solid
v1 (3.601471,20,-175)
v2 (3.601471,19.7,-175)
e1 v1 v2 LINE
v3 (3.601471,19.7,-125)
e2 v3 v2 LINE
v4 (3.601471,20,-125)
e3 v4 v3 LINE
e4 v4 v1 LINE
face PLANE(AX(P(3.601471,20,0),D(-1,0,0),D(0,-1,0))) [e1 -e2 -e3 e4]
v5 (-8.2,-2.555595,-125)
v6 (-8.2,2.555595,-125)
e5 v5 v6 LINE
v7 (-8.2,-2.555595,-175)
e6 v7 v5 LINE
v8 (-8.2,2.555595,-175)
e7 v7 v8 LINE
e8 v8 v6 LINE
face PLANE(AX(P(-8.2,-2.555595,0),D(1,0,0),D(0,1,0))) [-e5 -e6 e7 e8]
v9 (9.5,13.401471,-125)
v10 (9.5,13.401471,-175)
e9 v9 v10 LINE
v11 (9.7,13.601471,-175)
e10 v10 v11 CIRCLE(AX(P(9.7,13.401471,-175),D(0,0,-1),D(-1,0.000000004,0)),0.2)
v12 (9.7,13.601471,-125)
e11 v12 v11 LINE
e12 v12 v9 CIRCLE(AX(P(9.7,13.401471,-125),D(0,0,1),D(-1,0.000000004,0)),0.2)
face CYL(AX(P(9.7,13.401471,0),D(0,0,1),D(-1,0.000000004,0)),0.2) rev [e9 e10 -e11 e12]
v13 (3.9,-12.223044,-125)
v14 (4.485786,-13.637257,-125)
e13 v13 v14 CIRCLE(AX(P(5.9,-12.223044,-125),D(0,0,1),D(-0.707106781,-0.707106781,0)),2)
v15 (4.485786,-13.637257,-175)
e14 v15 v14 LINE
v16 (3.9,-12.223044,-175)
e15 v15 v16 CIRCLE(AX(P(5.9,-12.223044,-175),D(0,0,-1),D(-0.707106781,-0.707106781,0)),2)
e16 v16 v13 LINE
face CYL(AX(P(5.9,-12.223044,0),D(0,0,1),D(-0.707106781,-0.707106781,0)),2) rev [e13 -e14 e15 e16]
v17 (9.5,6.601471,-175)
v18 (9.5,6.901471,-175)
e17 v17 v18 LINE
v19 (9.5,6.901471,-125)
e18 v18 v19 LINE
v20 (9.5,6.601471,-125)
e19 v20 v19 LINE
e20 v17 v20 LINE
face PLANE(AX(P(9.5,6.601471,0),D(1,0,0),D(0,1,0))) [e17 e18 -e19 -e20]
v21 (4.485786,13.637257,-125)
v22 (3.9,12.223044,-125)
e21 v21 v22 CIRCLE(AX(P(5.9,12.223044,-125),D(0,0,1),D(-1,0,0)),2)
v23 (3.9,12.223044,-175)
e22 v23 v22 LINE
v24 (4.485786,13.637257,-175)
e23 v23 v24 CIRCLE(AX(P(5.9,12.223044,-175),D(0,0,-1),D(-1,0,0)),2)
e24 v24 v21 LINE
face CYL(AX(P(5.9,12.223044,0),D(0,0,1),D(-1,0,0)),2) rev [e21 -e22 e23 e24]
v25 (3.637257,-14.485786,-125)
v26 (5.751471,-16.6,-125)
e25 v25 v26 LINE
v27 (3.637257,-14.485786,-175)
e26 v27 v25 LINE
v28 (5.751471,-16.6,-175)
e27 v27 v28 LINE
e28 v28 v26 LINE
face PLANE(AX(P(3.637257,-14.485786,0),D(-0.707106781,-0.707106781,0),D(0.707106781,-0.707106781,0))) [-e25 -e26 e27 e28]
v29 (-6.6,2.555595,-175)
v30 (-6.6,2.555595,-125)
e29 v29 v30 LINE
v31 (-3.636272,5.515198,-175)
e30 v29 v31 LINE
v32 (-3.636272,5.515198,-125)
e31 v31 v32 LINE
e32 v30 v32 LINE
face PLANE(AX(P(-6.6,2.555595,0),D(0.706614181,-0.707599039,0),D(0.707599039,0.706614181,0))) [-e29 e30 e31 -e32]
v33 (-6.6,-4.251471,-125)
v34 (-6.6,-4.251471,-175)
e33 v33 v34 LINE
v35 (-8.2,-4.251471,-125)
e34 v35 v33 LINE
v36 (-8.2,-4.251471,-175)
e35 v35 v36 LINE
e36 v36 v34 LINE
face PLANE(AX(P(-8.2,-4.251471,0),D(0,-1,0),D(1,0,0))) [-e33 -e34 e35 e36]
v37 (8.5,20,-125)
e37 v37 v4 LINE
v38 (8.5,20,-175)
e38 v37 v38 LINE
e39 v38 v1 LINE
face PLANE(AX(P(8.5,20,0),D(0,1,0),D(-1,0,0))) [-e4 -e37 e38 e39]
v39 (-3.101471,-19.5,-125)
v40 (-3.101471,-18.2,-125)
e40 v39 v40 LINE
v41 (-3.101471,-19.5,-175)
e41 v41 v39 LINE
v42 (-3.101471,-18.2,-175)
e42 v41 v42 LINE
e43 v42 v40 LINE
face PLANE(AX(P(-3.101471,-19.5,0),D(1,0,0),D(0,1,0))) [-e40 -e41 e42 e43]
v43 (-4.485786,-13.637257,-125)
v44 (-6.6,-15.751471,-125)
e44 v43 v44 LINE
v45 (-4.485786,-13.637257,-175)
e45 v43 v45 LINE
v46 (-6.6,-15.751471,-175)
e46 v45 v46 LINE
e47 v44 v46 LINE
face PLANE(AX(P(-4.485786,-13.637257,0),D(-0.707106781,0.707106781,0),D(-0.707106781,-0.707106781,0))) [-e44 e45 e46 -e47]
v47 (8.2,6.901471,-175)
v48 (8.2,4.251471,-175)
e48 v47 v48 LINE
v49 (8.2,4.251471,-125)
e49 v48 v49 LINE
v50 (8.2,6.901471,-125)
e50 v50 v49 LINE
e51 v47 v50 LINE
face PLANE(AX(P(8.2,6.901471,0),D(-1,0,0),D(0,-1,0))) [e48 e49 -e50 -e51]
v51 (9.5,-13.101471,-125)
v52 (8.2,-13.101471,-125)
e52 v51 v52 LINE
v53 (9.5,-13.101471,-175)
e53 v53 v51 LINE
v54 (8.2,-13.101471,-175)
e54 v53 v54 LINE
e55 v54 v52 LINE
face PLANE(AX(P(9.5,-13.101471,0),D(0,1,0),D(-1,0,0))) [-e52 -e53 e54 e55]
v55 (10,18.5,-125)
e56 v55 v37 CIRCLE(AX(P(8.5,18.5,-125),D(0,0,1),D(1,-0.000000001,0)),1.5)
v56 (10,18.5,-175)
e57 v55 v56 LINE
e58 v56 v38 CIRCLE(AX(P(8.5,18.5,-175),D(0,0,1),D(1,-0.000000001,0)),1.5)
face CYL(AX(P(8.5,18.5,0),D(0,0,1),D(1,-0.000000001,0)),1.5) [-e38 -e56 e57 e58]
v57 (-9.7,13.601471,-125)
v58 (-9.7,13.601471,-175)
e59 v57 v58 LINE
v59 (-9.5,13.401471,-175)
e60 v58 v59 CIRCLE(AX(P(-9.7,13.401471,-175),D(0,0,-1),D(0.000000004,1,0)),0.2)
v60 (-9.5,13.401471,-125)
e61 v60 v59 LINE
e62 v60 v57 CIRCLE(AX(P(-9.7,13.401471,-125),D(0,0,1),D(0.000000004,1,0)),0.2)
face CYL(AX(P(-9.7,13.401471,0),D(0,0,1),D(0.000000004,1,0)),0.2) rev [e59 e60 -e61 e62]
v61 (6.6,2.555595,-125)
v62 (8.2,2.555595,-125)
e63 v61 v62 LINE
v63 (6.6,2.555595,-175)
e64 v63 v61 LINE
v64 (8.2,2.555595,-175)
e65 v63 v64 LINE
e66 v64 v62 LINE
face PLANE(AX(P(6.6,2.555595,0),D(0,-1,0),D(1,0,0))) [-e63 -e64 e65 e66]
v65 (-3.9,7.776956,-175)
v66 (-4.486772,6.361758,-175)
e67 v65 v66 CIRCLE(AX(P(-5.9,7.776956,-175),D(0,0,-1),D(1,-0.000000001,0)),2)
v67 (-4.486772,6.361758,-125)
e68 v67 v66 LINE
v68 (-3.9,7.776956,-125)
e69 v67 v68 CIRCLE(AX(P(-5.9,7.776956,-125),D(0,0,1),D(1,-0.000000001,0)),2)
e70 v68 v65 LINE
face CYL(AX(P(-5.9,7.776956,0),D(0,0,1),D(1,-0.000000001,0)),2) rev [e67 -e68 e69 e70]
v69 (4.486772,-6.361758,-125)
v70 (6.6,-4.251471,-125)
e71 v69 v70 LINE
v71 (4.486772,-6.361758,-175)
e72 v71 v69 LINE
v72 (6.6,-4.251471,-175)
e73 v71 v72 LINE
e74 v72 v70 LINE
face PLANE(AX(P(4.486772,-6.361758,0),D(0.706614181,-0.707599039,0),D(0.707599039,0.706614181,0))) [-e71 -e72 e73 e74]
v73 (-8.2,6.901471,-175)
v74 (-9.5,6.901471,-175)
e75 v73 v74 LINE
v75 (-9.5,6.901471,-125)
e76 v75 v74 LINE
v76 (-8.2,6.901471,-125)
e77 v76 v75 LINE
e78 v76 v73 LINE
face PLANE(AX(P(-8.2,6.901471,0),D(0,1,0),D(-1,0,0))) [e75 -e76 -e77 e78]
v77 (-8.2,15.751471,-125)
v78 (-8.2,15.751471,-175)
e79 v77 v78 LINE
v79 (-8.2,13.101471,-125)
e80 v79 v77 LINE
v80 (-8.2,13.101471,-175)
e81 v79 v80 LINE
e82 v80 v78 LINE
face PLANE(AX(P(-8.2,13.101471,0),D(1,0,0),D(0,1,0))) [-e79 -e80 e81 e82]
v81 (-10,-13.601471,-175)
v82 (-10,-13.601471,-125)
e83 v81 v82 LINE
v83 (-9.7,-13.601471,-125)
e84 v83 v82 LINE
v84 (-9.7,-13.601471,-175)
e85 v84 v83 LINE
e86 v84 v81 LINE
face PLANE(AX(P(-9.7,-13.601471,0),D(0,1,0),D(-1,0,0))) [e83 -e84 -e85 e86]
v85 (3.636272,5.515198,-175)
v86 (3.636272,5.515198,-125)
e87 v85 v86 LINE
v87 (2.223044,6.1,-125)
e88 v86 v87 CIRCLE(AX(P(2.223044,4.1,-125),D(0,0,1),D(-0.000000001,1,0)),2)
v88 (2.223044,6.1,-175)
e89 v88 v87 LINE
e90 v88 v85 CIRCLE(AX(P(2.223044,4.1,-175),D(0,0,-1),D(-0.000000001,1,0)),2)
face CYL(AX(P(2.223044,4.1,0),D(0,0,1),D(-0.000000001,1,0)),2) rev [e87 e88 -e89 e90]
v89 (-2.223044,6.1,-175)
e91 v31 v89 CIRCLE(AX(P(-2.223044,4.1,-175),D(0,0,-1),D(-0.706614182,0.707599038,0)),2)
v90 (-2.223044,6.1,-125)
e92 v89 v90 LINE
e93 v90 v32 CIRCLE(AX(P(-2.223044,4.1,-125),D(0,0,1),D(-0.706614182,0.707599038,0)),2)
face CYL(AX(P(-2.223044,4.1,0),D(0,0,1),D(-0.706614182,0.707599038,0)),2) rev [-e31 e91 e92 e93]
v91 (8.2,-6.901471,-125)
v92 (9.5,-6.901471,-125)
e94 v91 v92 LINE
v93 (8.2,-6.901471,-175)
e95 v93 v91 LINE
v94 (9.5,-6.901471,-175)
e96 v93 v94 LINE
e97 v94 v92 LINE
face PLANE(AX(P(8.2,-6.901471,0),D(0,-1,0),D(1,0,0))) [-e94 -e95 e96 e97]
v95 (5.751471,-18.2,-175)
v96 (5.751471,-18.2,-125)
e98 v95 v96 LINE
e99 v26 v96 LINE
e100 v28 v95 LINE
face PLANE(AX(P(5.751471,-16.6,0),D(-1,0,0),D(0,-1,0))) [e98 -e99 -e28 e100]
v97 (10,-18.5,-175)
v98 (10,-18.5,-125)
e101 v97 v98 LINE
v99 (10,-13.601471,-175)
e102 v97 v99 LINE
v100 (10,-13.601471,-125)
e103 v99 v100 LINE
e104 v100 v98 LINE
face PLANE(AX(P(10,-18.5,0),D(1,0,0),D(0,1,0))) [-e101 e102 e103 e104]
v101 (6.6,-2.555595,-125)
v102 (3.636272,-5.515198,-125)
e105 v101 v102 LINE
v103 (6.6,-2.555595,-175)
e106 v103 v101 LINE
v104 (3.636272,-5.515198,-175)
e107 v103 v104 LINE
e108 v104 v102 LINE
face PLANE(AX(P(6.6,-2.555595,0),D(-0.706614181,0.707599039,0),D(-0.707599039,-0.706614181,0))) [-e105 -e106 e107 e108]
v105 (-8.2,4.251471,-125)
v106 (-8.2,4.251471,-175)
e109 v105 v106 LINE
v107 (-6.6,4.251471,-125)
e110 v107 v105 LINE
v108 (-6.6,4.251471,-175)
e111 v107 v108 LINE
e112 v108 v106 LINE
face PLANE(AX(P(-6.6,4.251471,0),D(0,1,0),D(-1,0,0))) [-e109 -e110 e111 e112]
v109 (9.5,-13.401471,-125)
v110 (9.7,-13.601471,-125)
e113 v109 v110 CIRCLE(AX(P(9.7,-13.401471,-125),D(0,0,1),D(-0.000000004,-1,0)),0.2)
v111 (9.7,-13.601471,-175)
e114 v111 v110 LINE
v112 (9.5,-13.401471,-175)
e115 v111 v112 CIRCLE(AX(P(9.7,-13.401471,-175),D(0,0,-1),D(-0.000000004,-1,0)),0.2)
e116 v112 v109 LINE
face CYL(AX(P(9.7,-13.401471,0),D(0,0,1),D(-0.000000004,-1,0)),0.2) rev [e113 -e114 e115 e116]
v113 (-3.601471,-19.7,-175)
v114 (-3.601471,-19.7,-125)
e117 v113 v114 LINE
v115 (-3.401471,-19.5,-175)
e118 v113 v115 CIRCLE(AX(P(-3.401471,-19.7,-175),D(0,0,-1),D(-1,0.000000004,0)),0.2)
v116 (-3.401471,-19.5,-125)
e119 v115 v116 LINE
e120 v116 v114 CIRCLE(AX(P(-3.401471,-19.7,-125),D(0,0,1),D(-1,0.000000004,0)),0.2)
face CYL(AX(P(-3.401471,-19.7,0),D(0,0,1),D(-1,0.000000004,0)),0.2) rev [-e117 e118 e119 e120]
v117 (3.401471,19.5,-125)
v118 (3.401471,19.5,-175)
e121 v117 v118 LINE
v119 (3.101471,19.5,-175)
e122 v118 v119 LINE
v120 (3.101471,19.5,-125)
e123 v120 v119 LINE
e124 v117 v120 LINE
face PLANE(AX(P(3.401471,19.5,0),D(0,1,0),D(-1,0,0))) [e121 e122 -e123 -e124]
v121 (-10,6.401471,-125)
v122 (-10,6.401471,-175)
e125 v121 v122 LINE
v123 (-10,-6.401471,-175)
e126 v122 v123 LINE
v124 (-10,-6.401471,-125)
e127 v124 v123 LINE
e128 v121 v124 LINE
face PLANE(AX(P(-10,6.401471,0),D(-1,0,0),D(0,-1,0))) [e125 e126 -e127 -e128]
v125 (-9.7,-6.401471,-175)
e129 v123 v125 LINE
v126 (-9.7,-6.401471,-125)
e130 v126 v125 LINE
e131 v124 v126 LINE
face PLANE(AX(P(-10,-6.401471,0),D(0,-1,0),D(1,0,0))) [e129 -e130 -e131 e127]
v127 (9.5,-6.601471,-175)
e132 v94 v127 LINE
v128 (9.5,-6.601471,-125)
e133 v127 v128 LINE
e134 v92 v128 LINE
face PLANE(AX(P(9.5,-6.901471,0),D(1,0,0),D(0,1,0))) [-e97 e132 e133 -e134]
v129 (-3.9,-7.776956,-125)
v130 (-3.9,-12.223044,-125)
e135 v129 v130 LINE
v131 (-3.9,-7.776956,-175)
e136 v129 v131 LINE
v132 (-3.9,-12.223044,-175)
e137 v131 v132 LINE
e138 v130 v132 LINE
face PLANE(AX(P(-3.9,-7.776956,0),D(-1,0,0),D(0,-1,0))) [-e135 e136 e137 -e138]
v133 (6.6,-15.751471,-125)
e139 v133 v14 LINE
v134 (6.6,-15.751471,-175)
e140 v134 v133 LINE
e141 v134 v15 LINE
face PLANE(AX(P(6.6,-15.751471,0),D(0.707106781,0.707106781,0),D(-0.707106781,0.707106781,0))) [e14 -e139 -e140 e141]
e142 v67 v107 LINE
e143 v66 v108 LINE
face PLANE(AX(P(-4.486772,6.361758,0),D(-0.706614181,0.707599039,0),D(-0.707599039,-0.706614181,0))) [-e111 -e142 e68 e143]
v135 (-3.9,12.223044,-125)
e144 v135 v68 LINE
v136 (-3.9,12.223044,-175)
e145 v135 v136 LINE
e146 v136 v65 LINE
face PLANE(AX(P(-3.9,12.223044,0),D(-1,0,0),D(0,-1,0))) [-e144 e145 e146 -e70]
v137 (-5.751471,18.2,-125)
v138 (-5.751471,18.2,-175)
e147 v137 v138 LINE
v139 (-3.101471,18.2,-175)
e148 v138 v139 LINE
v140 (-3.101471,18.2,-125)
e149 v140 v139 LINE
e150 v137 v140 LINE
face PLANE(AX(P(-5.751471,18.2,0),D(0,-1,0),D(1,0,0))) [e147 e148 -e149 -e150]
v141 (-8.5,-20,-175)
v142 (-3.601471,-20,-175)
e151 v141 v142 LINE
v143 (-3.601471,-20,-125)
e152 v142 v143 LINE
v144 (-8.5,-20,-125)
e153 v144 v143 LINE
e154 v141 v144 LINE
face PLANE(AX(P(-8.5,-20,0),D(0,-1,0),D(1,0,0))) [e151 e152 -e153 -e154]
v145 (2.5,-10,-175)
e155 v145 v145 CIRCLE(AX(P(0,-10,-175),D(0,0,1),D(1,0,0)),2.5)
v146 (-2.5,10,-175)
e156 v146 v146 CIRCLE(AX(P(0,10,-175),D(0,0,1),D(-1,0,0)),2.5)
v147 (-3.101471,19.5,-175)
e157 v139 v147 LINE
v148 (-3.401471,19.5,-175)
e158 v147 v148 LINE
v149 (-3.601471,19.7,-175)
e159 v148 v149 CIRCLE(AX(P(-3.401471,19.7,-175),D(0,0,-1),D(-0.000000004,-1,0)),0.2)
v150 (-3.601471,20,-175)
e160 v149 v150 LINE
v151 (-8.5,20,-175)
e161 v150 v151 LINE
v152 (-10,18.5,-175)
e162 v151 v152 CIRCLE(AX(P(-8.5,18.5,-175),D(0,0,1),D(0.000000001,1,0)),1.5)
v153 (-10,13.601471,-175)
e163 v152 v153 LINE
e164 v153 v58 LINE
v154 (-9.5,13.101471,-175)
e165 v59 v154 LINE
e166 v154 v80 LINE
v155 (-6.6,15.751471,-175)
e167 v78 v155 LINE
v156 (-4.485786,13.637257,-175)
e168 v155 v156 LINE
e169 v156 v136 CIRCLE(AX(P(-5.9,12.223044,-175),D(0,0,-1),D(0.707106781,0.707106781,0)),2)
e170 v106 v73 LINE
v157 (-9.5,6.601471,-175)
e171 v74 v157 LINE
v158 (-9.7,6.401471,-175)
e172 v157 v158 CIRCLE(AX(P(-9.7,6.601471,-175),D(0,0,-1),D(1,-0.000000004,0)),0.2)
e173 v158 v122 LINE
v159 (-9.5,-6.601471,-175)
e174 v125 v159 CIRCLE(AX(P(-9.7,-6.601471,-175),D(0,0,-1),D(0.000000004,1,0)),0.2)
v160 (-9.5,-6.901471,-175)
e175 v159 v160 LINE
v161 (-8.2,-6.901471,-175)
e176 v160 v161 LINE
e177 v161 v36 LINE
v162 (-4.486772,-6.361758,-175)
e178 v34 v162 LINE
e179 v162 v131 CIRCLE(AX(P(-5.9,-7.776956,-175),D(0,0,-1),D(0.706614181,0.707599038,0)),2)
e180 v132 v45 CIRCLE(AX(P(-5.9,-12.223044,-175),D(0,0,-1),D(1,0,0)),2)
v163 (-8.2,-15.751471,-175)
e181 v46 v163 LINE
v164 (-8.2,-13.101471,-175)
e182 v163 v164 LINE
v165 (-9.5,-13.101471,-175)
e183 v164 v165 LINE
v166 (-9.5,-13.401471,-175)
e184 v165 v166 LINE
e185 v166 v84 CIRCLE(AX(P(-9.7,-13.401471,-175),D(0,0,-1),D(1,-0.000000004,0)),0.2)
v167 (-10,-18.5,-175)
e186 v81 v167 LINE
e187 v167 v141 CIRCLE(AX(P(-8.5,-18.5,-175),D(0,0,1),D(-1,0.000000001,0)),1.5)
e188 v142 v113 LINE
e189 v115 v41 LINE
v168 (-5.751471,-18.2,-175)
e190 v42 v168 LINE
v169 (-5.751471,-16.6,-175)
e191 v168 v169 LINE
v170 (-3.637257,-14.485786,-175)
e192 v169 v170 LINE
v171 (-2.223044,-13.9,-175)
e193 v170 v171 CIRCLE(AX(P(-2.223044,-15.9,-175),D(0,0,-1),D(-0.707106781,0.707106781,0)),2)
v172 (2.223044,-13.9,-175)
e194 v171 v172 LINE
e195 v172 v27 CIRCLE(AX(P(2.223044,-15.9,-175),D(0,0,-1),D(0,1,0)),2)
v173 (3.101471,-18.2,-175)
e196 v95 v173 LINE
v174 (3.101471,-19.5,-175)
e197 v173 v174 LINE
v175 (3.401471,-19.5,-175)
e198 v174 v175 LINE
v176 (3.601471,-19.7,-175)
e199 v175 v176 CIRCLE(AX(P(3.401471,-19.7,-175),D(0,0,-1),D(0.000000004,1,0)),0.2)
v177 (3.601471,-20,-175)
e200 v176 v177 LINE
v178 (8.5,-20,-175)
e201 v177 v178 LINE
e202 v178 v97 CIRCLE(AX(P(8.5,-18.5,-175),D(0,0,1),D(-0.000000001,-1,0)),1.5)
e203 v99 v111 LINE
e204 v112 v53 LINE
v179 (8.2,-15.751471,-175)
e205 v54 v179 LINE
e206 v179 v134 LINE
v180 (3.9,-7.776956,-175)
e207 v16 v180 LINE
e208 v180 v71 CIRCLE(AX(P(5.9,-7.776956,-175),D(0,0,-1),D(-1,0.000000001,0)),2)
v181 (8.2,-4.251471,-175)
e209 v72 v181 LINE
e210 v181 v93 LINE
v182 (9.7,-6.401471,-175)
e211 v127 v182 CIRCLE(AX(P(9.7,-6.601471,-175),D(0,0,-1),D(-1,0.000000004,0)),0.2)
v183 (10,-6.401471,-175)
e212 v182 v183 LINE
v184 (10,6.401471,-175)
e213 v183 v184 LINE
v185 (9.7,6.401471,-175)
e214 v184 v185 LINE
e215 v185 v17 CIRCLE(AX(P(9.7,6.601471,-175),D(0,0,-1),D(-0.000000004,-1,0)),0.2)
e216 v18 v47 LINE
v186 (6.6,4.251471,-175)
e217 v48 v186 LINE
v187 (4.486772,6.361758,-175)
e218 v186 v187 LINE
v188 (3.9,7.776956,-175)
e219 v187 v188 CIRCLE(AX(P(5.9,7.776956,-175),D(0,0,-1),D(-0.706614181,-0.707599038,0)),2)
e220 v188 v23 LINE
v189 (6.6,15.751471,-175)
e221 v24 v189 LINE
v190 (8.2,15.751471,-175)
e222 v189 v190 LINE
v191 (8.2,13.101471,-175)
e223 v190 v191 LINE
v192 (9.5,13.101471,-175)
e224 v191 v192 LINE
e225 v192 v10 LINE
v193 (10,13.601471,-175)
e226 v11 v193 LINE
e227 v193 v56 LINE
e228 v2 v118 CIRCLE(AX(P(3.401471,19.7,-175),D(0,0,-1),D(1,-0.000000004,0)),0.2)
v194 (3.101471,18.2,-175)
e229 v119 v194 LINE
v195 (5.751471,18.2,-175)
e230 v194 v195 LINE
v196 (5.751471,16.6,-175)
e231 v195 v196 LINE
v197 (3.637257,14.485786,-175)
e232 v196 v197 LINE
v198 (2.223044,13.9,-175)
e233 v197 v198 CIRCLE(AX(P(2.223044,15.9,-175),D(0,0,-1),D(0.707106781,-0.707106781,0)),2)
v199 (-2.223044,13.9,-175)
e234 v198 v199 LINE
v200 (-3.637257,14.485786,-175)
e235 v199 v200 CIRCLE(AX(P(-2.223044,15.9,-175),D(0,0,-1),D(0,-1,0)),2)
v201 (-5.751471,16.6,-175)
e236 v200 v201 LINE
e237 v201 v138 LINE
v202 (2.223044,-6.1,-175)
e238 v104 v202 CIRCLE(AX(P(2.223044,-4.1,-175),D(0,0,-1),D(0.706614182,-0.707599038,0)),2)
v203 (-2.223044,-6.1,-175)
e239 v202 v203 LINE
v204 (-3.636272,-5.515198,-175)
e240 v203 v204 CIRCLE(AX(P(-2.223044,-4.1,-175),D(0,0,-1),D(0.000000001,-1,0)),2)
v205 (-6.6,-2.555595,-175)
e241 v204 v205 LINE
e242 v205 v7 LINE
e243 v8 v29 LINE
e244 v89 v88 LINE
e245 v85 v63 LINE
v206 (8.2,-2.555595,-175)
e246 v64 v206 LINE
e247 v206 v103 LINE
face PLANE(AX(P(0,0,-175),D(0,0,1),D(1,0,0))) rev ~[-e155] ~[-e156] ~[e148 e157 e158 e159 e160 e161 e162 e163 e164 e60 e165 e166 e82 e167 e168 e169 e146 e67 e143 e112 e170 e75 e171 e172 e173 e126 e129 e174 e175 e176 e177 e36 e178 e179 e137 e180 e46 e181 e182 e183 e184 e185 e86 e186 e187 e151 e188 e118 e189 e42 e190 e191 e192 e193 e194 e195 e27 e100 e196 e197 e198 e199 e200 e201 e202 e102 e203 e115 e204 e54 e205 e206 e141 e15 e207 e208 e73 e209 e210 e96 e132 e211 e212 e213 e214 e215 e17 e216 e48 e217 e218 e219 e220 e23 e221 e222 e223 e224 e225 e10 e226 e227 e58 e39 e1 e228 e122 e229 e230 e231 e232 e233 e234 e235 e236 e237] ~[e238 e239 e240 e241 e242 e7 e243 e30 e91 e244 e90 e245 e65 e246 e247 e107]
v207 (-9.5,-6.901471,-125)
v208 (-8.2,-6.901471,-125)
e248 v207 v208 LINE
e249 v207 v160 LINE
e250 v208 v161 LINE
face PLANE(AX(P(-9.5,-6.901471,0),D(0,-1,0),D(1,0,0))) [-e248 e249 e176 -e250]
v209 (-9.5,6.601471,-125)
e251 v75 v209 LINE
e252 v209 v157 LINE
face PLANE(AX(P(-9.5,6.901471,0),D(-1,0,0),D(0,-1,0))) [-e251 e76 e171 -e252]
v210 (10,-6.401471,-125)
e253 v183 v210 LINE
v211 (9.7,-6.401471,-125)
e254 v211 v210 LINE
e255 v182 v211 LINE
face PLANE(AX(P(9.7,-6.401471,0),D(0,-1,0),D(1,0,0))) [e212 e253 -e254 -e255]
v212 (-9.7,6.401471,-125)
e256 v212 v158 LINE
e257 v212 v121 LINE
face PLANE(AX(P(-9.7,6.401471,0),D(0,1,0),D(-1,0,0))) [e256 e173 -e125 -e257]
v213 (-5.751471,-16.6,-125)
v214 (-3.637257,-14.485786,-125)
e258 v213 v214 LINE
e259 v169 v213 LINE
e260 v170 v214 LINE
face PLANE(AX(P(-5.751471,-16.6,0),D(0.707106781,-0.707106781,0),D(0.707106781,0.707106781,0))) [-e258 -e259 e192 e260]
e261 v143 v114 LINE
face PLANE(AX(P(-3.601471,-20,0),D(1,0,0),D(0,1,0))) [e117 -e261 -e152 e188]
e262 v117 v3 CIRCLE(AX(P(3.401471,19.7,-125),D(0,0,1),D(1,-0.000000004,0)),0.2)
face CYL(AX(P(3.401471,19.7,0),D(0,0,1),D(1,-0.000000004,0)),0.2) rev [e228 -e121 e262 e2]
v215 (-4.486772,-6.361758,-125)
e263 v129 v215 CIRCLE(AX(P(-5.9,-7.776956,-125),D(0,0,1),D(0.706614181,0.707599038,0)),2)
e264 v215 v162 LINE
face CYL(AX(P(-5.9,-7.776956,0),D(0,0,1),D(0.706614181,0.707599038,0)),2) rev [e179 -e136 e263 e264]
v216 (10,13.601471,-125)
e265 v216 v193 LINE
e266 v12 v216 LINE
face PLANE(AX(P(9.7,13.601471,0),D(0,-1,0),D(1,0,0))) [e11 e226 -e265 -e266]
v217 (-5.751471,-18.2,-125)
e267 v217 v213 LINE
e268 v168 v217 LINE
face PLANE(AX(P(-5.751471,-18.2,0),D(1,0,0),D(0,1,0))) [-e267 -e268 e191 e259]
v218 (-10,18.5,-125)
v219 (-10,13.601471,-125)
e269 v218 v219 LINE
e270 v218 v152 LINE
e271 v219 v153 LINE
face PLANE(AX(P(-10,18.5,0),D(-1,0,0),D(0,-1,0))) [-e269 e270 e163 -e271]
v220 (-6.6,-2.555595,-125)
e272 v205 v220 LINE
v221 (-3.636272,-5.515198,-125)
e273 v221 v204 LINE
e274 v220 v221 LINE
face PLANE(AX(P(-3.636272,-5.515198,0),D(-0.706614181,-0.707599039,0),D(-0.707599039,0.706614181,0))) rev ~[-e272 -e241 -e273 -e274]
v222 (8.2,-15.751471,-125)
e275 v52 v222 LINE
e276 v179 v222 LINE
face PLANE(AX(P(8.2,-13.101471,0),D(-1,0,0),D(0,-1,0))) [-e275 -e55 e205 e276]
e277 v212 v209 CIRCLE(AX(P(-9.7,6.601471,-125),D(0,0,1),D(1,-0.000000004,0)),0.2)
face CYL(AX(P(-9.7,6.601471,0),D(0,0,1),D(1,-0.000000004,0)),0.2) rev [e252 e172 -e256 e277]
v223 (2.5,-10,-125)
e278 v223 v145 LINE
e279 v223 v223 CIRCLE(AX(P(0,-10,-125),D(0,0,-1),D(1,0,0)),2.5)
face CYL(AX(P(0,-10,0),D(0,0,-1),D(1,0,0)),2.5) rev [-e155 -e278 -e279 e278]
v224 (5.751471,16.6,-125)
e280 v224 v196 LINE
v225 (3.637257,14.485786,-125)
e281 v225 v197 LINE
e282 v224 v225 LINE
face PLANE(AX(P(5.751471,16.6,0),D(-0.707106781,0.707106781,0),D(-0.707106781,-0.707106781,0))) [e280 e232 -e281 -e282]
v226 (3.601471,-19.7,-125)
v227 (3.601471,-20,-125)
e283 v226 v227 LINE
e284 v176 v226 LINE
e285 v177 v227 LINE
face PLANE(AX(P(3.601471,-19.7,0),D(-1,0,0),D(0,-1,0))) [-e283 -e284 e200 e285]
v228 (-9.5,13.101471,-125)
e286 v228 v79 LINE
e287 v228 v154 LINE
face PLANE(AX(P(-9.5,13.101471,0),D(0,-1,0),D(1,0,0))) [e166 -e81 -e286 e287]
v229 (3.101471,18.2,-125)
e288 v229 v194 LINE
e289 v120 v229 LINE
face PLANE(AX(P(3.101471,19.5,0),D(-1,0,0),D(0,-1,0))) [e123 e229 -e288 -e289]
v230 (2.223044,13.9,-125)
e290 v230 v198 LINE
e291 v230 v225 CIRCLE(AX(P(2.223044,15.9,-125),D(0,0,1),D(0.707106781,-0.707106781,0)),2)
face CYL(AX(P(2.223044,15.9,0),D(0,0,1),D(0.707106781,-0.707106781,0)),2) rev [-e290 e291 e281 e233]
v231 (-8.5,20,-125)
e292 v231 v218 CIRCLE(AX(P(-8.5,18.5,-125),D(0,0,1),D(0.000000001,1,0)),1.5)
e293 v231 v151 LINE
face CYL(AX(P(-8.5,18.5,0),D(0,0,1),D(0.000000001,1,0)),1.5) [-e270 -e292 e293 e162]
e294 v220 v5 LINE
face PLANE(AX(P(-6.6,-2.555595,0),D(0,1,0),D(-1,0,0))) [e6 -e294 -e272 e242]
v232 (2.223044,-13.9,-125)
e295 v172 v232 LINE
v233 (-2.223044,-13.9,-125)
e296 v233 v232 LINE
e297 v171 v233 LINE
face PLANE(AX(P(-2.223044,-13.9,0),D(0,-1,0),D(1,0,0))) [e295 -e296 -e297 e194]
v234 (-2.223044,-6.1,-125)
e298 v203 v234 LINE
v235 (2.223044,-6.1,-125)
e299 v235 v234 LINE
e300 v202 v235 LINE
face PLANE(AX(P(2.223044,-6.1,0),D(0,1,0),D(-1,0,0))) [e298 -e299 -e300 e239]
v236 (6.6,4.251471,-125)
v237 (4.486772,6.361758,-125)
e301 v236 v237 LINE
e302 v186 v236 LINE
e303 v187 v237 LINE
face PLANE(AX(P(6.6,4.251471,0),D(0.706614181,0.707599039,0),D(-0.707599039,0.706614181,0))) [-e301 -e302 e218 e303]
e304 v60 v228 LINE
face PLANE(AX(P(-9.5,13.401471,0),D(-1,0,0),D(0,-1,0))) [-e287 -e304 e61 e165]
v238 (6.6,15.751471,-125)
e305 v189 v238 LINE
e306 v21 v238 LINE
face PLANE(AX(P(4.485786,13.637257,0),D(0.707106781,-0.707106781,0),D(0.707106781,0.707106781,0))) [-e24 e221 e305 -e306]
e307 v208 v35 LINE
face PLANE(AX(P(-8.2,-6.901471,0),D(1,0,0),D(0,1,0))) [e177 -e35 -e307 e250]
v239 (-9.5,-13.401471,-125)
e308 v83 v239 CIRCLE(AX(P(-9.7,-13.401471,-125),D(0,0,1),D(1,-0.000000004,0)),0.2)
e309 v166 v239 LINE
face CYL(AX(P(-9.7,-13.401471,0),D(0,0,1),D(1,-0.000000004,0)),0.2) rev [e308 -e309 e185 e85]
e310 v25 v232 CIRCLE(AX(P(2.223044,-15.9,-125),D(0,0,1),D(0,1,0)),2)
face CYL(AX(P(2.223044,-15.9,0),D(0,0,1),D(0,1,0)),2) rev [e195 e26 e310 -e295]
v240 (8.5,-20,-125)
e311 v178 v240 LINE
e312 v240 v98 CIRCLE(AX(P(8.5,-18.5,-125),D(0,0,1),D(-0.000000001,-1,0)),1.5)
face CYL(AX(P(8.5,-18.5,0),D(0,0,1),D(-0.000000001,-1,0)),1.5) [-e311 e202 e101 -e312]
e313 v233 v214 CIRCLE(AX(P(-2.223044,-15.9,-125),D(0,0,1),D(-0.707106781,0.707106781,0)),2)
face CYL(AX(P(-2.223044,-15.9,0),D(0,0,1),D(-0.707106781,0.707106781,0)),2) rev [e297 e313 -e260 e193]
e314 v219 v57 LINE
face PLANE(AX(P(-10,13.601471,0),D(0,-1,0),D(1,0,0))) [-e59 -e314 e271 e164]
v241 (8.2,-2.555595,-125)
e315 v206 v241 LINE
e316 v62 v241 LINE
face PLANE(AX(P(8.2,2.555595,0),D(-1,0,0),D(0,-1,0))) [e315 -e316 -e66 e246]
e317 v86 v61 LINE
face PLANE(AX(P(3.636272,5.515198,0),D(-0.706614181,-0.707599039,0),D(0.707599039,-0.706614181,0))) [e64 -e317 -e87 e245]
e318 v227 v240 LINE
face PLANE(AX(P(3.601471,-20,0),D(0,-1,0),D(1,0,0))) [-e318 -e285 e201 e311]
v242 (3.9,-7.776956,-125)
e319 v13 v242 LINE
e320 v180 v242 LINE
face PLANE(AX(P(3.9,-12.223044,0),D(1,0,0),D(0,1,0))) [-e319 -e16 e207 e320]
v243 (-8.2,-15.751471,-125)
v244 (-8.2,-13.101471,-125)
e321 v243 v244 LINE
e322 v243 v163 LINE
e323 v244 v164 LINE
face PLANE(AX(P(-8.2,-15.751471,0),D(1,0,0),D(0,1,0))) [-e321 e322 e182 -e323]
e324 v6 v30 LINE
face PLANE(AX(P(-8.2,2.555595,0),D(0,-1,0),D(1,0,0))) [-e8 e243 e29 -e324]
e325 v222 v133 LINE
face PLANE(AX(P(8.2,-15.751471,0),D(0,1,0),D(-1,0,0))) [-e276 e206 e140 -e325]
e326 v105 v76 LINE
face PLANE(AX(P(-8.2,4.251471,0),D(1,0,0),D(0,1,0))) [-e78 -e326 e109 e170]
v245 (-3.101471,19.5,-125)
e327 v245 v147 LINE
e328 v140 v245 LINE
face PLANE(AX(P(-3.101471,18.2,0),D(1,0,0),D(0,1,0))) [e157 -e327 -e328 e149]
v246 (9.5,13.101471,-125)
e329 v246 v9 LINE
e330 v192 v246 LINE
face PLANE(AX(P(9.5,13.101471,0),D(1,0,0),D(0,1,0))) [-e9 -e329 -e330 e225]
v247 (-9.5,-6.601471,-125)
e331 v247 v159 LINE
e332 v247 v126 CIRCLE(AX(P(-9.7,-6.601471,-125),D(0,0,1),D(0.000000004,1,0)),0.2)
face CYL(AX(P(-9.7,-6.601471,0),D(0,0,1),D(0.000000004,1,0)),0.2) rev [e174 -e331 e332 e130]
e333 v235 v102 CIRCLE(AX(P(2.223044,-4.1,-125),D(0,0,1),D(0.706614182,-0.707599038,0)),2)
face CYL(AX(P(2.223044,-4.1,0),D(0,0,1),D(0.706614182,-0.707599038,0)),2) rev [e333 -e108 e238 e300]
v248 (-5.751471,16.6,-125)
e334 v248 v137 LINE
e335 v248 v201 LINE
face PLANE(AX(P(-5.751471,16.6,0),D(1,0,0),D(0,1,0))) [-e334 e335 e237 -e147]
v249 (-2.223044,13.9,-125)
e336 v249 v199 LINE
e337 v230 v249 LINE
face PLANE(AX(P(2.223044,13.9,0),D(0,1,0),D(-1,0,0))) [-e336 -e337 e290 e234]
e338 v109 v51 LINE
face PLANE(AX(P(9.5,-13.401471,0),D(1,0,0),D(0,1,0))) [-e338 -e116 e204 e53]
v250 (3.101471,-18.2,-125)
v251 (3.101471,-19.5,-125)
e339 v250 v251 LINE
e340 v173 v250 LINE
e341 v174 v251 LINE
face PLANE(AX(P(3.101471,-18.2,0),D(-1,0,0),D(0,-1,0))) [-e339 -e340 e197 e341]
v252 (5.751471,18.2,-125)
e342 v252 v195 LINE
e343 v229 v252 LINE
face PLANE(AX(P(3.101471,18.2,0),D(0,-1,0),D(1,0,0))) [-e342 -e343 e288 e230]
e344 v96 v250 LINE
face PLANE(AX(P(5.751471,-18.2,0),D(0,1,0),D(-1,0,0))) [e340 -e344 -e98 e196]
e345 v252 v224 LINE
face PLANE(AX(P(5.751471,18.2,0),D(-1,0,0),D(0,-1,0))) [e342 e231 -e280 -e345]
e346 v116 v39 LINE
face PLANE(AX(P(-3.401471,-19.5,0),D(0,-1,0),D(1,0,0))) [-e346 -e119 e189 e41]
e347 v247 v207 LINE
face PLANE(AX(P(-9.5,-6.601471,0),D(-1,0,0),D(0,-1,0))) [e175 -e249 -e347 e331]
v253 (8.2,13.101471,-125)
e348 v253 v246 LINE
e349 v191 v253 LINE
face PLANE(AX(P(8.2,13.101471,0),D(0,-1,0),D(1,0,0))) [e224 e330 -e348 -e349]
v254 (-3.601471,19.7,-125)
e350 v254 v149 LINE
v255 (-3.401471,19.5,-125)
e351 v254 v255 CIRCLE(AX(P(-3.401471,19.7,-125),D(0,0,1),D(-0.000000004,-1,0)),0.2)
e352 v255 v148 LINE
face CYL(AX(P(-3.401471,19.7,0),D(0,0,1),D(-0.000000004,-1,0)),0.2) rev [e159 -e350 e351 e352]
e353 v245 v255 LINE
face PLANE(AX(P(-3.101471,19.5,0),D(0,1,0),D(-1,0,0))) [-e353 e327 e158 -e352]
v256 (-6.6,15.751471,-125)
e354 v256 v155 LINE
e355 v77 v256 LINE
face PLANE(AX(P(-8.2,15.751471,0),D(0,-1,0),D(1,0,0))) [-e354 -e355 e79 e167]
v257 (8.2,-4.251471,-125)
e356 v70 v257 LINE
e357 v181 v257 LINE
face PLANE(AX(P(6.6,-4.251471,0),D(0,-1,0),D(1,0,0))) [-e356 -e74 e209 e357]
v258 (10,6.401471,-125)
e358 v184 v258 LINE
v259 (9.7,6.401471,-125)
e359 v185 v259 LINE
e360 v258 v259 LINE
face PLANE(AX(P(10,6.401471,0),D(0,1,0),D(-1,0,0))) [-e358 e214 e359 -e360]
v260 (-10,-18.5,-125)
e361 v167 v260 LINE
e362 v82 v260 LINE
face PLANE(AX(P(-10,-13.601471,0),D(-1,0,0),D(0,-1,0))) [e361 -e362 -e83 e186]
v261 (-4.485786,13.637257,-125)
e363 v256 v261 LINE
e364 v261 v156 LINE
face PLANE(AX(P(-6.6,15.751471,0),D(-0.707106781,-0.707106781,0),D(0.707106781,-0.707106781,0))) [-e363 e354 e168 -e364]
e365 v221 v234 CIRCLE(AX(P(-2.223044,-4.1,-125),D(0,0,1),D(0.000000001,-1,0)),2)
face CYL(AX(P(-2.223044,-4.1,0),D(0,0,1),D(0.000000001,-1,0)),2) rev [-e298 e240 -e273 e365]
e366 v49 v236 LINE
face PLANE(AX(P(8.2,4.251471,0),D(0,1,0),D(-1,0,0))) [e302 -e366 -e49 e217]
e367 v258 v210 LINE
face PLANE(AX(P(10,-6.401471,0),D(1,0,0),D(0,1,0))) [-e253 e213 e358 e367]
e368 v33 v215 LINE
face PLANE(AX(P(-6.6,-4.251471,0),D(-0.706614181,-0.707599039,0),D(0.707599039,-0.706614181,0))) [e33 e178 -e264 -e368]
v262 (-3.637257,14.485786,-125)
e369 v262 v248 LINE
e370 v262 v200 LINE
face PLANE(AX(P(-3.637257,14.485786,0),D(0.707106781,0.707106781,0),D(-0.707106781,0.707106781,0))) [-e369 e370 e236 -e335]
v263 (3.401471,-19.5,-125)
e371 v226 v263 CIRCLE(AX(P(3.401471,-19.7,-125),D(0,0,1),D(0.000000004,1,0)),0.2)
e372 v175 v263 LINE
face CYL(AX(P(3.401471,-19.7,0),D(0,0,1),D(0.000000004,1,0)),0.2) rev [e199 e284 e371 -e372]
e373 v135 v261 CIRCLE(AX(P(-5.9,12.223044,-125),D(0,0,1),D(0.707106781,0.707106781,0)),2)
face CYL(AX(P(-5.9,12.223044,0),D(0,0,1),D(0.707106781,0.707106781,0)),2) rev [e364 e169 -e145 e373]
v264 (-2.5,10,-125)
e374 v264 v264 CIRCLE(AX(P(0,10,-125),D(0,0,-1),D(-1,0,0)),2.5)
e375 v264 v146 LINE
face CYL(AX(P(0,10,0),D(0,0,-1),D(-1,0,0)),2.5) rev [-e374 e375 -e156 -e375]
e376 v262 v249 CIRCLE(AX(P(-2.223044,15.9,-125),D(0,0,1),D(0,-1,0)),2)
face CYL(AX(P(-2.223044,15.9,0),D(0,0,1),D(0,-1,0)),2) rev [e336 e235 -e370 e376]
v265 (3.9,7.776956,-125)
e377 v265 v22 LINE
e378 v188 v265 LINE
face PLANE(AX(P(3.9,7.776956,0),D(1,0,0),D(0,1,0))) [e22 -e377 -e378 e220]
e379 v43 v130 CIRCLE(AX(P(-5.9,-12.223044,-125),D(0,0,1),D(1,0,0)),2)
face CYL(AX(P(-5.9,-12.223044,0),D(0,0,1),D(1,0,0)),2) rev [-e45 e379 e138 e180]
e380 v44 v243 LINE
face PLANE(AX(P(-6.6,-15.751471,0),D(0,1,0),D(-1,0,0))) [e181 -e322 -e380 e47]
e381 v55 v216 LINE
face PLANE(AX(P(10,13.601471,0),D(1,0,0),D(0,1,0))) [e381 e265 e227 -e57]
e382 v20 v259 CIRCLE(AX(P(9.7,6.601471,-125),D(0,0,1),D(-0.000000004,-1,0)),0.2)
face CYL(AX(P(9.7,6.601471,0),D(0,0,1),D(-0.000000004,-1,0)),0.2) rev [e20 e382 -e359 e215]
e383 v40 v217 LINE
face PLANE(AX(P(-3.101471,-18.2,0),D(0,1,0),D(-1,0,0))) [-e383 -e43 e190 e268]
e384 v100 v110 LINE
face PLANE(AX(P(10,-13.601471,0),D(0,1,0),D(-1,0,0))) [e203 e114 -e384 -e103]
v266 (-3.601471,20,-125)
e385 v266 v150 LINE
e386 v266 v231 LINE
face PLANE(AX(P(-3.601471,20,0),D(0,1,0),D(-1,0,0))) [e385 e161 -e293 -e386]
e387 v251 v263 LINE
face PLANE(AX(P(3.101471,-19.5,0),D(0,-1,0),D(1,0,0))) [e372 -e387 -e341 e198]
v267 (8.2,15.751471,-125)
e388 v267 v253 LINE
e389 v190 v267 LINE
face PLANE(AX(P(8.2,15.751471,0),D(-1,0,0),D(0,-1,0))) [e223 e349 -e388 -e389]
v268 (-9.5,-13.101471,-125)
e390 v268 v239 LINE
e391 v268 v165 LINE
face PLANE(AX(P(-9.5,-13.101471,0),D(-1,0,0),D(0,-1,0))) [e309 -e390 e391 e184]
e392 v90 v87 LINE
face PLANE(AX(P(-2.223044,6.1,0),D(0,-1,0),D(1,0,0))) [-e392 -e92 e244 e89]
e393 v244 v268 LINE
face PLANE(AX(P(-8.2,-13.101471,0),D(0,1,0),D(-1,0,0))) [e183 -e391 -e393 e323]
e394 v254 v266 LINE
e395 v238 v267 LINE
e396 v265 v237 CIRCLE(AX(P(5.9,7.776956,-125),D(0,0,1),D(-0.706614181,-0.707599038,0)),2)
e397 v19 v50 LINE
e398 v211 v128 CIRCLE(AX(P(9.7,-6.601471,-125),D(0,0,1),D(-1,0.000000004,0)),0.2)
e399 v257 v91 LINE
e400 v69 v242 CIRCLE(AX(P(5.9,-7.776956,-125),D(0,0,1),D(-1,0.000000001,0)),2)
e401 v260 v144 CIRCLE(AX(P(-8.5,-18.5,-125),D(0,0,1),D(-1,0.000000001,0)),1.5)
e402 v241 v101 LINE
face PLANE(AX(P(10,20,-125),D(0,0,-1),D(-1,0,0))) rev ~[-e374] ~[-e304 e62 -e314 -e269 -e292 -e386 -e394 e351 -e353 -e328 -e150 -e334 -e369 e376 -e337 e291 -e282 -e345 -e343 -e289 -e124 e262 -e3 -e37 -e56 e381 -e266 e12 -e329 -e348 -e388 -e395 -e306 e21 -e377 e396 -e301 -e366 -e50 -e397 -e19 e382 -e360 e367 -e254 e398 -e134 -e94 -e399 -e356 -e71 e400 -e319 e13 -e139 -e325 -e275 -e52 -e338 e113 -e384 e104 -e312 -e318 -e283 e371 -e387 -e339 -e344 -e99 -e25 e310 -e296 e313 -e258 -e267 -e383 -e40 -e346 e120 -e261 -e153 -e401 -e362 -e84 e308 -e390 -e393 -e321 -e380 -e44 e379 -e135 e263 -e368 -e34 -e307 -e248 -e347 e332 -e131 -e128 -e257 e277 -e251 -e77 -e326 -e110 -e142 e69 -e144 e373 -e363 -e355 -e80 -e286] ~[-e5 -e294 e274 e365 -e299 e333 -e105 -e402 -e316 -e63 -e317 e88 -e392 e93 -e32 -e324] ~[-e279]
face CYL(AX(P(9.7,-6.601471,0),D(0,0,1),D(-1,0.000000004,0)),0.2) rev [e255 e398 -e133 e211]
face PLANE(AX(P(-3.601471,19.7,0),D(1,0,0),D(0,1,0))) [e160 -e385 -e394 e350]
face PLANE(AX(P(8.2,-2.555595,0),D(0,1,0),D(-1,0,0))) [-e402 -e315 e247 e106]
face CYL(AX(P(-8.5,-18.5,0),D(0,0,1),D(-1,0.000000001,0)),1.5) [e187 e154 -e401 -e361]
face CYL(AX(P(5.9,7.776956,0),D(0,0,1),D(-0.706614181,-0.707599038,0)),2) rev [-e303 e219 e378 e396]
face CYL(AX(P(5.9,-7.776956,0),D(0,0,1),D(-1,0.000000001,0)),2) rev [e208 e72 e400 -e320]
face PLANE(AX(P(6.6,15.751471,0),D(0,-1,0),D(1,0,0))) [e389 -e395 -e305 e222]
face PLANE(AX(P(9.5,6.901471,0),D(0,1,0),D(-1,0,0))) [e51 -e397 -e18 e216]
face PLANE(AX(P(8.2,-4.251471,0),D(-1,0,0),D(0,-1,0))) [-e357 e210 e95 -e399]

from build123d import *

# Parameters (mm, degrees)
CROQUIS3_R              = 2.5
SALIENTE_EXTRUIR3_DEPTH = 175
SKETCH1_W               = 4.862742591
SKETCH1_H               = 300
SKETCH1_W_2             = 1.5
SKETCH1_W_3             = 0.035786438
CUT_EXTRUDE3_DEPTH      = 100


with BuildPart() as part:
    # Croquis3 → Saliente-Extruir3 (new, symmetric)
    with BuildSketch(Plane.XY):
        with BuildLine():
            Line((-9.5, -13.101470971), (-9.5, -13.401470971))
            ThreePointArc((-9.5, -13.401470971), (-9.558578644, -13.542892327), (-9.7, -13.601470971))
            Line((-9.7, -13.601470971), (-10, -13.601470971))
            Line((-10, -13.601470971), (-10, -18.5))
            ThreePointArc((-10, -18.5), (-9.560660172, -19.560660172), (-8.5, -20))
            Line((-8.5, -20), (-3.601470971, -20))
            Line((-3.601470971, -20), (-3.601470971, -19.7))
            ThreePointArc((-3.601470971, -19.7), (-3.542892327, -19.558578644), (-3.401470971, -19.5))
            Line((-3.401470971, -19.5), (-3.101470971, -19.5))
            Line((-3.101470971, -19.5), (-3.101470971, -18.2))
            Line((-3.101470971, -18.2), (-5.751470971, -18.2))
            Line((-5.751470971, -18.2), (-5.751470971, -16.6))
            Line((-5.751470971, -16.6), (-3.637257409, -14.485786438))
            ThreePointArc((-3.637257409, -14.485786438), (-2.988410711, -14.052240935), (-2.223043846, -13.9))
            Line((-2.223043846, -13.9), (2.223043846, -13.9))
            ThreePointArc((2.223043846, -13.9), (2.988410711, -14.052240935), (3.637257409, -14.485786438))
            Line((3.637257409, -14.485786438), (5.751470971, -16.6))
            Line((5.751470971, -16.6), (5.751470971, -18.2))
            Line((5.751470971, -18.2), (3.101470971, -18.2))
            Line((3.101470971, -18.2), (3.101470971, -19.5))
            Line((3.101470971, -19.5), (3.401470971, -19.5))
            ThreePointArc((3.401470971, -19.5), (3.542892327, -19.558578644), (3.601470971, -19.7))
            Line((3.601470971, -19.7), (3.601470971, -20))
            Line((3.601470971, -20), (8.5, -20))
            ThreePointArc((8.5, -20), (9.560660172, -19.560660172), (10, -18.5))
            Line((10, -18.5), (10, -13.601470971))
            Line((10, -13.601470971), (9.7, -13.601470971))
            ThreePointArc((9.7, -13.601470971), (9.558578644, -13.542892327), (9.5, -13.401470971))
            Line((9.5, -13.401470971), (9.5, -13.101470971))
            Line((9.5, -13.101470971), (8.2, -13.101470971))
            Line((8.2, -13.101470971), (8.2, -15.751470971))
            Line((8.2, -15.751470971), (6.6, -15.751470971))
            Line((6.6, -15.751470971), (4.485786438, -13.637257409))
            ThreePointArc((4.485786438, -13.637257409), (4.052240935, -12.988410711), (3.9, -12.223043846))
            Line((3.9, -12.223043846), (3.9, -7.776956154))
            ThreePointArc((3.9, -7.776956154), (4.052507548, -7.010945946), (4.486771639, -6.361758076))
            Line((4.486771639, -6.361758076), (6.6, -4.251470971))
            Line((6.6, -4.251470971), (8.2, -4.251470971))
            Line((8.2, -4.251470971), (8.2, -6.901470971))
            Line((8.2, -6.901470971), (9.5, -6.901470971))
            Line((9.5, -6.901470971), (9.5, -6.601470971))
            ThreePointArc((9.5, -6.601470971), (9.558578644, -6.460049615), (9.7, -6.401470971))
            Line((9.7, -6.401470971), (10, -6.401470971))
            Line((10, -6.401470971), (10, 6.401470971))
            Line((10, 6.401470971), (9.7, 6.401470971))
            ThreePointArc((9.7, 6.401470971), (9.558578644, 6.460049615), (9.5, 6.601470971))
            Line((9.5, 6.601470971), (9.5, 6.901470971))
            Line((9.5, 6.901470971), (8.2, 6.901470971))
            Line((8.2, 6.901470971), (8.2, 4.251470971))
            Line((8.2, 4.251470971), (6.6, 4.251470971))
            Line((6.6, 4.251470971), (4.486771639, 6.361758076))
            ThreePointArc((4.486771639, 6.361758076), (4.052507548, 7.010945946), (3.9, 7.776956154))
            Line((3.9, 7.776956154), (3.9, 12.223043846))
            ThreePointArc((3.9, 12.223043846), (4.052240935, 12.988410711), (4.485786438, 13.637257409))
            Line((4.485786438, 13.637257409), (6.6, 15.751470971))
            Line((6.6, 15.751470971), (8.2, 15.751470971))
            Line((8.2, 15.751470971), (8.2, 13.101470971))
            Line((8.2, 13.101470971), (9.5, 13.101470971))
            Line((9.5, 13.101470971), (9.5, 13.401470971))
            ThreePointArc((9.5, 13.401470971), (9.558578644, 13.542892327), (9.7, 13.601470971))
            Line((9.7, 13.601470971), (10, 13.601470971))
            Line((10, 13.601470971), (10, 18.5))
            ThreePointArc((10, 18.5), (9.560660172, 19.560660172), (8.5, 20))
            Line((8.5, 20), (3.601470971, 20))
            Line((3.601470971, 20), (3.601470971, 19.7))
            ThreePointArc((3.601470971, 19.7), (3.542892327, 19.558578644), (3.401470971, 19.5))
            Line((3.401470971, 19.5), (3.101470971, 19.5))
            Line((3.101470971, 19.5), (3.101470971, 18.2))
            Line((3.101470971, 18.2), (5.751470971, 18.2))
            Line((5.751470971, 18.2), (5.751470971, 16.6))
            Line((5.751470971, 16.6), (3.637257409, 14.485786438))
            ThreePointArc((3.637257409, 14.485786438), (2.988410711, 14.052240935), (2.223043846, 13.9))
            Line((2.223043846, 13.9), (-2.223043846, 13.9))
            ThreePointArc((-2.223043846, 13.9), (-2.988410711, 14.052240935), (-3.637257409, 14.485786438))
            Line((-3.637257409, 14.485786438), (-5.751470971, 16.6))
            Line((-5.751470971, 16.6), (-5.751470971, 18.2))
            Line((-5.751470971, 18.2), (-3.101470971, 18.2))
            Line((-3.101470971, 18.2), (-3.101470971, 19.5))
            Line((-3.101470971, 19.5), (-3.401470971, 19.5))
            ThreePointArc((-3.401470971, 19.5), (-3.542892327, 19.558578644), (-3.601470971, 19.7))
            Line((-3.601470971, 19.7), (-3.601470971, 20))
            Line((-3.601470971, 20), (-8.5, 20))
            ThreePointArc((-8.5, 20), (-9.560660172, 19.560660172), (-10, 18.5))
            Line((-10, 18.5), (-10, 13.601470971))
            Line((-10, 13.601470971), (-9.7, 13.601470971))
            ThreePointArc((-9.7, 13.601470971), (-9.558578644, 13.542892327), (-9.5, 13.401470971))
            Line((-9.5, 13.401470971), (-9.5, 13.101470971))
            Line((-9.5, 13.101470971), (-8.2, 13.101470971))
            Line((-8.2, 13.101470971), (-8.2, 15.751470971))
            Line((-8.2, 15.751470971), (-6.6, 15.751470971))
            Line((-6.6, 15.751470971), (-4.485786438, 13.637257409))
            ThreePointArc((-4.485786438, 13.637257409), (-4.052240935, 12.988410711), (-3.9, 12.223043846))
            Line((-3.9, 12.223043846), (-3.9, 7.776956154))
            ThreePointArc((-3.9, 7.776956154), (-4.052507548, 7.010945946), (-4.486771639, 6.361758076))
            Line((-4.486771639, 6.361758076), (-6.6, 4.251470971))
            Line((-6.6, 4.251470971), (-8.2, 4.251470971))
            Line((-8.2, 4.251470971), (-8.2, 6.901470971))
            Line((-8.2, 6.901470971), (-9.5, 6.901470971))
            Line((-9.5, 6.901470971), (-9.5, 6.601470971))
            ThreePointArc((-9.5, 6.601470971), (-9.558578644, 6.460049615), (-9.7, 6.401470971))
            Line((-9.7, 6.401470971), (-10, 6.401470971))
            Line((-10, 6.401470971), (-10, -6.401470971))
            Line((-10, -6.401470971), (-9.7, -6.401470971))
            ThreePointArc((-9.7, -6.401470971), (-9.558578644, -6.460049615), (-9.5, -6.601470971))
            Line((-9.5, -6.601470971), (-9.5, -6.901470971))
            Line((-9.5, -6.901470971), (-8.2, -6.901470971))
            Line((-8.2, -6.901470971), (-8.2, -4.251470971))
            Line((-8.2, -4.251470971), (-6.6, -4.251470971))
            Line((-6.6, -4.251470971), (-4.486771639, -6.361758076))
            ThreePointArc((-4.486771639, -6.361758076), (-4.052507548, -7.010945946), (-3.9, -7.776956154))
            Line((-3.9, -7.776956154), (-3.9, -12.223043846))
            ThreePointArc((-3.9, -12.223043846), (-4.052240935, -12.988410711), (-4.485786438, -13.637257409))
            Line((-4.485786438, -13.637257409), (-6.6, -15.751470971))
            Line((-6.6, -15.751470971), (-8.2, -15.751470971))
            Line((-8.2, -15.751470971), (-8.2, -13.101470971))
            Line((-8.2, -13.101470971), (-9.5, -13.101470971))
        make_face()
        with Locations((0, -10)):
            Circle(CROQUIS3_R, mode=Mode.SUBTRACT)
        with Locations(Location((0, 10, 0), (0, 0, 180))):
            Circle(CROQUIS3_R, mode=Mode.SUBTRACT)
        with BuildLine():
            Line((-3.636272208, -5.515198077), (-6.6, -2.555595292))
            Line((-6.6, -2.555595292), (-8.2, -2.555595292))
            Line((-8.2, -2.555595292), (-8.2, 2.555595292))
            Line((-8.2, 2.555595292), (-6.6, 2.555595292))
            Line((-6.6, 2.555595292), (-3.636272208, 5.515198077))
            ThreePointArc((-3.636272208, 5.515198077), (-2.987767275, 5.948025454), (-2.223043846, 6.1))
            Line((-2.223043846, 6.1), (2.223043846, 6.1))
            ThreePointArc((2.223043846, 6.1), (2.987767275, 5.948025454), (3.636272208, 5.515198077))
            Line((3.636272208, 5.515198077), (6.6, 2.555595292))
            Line((6.6, 2.555595292), (8.2, 2.555595292))
            Line((8.2, 2.555595292), (8.2, -2.555595292))
            Line((8.2, -2.555595292), (6.6, -2.555595292))
            Line((6.6, -2.555595292), (3.636272208, -5.515198077))
            ThreePointArc((3.636272208, -5.515198077), (2.987767275, -5.948025454), (2.223043846, -6.1))
            Line((2.223043846, -6.1), (-2.223043846, -6.1))
            ThreePointArc((-2.223043846, -6.1), (-2.987767275, -5.948025454), (-3.636272208, -5.515198077))
        make_face(mode=Mode.SUBTRACT)
    extrude(amount=SALIENTE_EXTRUIR3_DEPTH, both=True)

    # Sketch1 → Cut-Extrude3 (cut)
    with BuildSketch(Plane(origin=(0, 20, 0), x_dir=(1, 0, 0), z_dir=(0, 1, 0))):
        Polygon((3.637257409, -175), (8.5, -175), (10, -175), (10, 125), (3.637257409, 125), align=None)
        Polygon((2.223043846, -175), (3.601470971, -175), (3.601470971, 125), (-3.601470971, 125), (-3.601470971, -175), (-2.223043846, -175), align=None)
        with Locations((-6.068628705, -25)):
            Rectangle(SKETCH1_W, SKETCH1_H)
        with Locations((-9.25, -25)):
            Rectangle(SKETCH1_W_2, SKETCH1_H)
        with Locations((-3.61936419, -25)):
            Rectangle(SKETCH1_W_3, SKETCH1_H)
        with Locations((3.61936419, -25)):
            Rectangle(SKETCH1_W_3, SKETCH1_H)
    extrude(amount=-CUT_EXTRUDE3_DEPTH, mode=Mode.SUBTRACT)


solid = part.part
